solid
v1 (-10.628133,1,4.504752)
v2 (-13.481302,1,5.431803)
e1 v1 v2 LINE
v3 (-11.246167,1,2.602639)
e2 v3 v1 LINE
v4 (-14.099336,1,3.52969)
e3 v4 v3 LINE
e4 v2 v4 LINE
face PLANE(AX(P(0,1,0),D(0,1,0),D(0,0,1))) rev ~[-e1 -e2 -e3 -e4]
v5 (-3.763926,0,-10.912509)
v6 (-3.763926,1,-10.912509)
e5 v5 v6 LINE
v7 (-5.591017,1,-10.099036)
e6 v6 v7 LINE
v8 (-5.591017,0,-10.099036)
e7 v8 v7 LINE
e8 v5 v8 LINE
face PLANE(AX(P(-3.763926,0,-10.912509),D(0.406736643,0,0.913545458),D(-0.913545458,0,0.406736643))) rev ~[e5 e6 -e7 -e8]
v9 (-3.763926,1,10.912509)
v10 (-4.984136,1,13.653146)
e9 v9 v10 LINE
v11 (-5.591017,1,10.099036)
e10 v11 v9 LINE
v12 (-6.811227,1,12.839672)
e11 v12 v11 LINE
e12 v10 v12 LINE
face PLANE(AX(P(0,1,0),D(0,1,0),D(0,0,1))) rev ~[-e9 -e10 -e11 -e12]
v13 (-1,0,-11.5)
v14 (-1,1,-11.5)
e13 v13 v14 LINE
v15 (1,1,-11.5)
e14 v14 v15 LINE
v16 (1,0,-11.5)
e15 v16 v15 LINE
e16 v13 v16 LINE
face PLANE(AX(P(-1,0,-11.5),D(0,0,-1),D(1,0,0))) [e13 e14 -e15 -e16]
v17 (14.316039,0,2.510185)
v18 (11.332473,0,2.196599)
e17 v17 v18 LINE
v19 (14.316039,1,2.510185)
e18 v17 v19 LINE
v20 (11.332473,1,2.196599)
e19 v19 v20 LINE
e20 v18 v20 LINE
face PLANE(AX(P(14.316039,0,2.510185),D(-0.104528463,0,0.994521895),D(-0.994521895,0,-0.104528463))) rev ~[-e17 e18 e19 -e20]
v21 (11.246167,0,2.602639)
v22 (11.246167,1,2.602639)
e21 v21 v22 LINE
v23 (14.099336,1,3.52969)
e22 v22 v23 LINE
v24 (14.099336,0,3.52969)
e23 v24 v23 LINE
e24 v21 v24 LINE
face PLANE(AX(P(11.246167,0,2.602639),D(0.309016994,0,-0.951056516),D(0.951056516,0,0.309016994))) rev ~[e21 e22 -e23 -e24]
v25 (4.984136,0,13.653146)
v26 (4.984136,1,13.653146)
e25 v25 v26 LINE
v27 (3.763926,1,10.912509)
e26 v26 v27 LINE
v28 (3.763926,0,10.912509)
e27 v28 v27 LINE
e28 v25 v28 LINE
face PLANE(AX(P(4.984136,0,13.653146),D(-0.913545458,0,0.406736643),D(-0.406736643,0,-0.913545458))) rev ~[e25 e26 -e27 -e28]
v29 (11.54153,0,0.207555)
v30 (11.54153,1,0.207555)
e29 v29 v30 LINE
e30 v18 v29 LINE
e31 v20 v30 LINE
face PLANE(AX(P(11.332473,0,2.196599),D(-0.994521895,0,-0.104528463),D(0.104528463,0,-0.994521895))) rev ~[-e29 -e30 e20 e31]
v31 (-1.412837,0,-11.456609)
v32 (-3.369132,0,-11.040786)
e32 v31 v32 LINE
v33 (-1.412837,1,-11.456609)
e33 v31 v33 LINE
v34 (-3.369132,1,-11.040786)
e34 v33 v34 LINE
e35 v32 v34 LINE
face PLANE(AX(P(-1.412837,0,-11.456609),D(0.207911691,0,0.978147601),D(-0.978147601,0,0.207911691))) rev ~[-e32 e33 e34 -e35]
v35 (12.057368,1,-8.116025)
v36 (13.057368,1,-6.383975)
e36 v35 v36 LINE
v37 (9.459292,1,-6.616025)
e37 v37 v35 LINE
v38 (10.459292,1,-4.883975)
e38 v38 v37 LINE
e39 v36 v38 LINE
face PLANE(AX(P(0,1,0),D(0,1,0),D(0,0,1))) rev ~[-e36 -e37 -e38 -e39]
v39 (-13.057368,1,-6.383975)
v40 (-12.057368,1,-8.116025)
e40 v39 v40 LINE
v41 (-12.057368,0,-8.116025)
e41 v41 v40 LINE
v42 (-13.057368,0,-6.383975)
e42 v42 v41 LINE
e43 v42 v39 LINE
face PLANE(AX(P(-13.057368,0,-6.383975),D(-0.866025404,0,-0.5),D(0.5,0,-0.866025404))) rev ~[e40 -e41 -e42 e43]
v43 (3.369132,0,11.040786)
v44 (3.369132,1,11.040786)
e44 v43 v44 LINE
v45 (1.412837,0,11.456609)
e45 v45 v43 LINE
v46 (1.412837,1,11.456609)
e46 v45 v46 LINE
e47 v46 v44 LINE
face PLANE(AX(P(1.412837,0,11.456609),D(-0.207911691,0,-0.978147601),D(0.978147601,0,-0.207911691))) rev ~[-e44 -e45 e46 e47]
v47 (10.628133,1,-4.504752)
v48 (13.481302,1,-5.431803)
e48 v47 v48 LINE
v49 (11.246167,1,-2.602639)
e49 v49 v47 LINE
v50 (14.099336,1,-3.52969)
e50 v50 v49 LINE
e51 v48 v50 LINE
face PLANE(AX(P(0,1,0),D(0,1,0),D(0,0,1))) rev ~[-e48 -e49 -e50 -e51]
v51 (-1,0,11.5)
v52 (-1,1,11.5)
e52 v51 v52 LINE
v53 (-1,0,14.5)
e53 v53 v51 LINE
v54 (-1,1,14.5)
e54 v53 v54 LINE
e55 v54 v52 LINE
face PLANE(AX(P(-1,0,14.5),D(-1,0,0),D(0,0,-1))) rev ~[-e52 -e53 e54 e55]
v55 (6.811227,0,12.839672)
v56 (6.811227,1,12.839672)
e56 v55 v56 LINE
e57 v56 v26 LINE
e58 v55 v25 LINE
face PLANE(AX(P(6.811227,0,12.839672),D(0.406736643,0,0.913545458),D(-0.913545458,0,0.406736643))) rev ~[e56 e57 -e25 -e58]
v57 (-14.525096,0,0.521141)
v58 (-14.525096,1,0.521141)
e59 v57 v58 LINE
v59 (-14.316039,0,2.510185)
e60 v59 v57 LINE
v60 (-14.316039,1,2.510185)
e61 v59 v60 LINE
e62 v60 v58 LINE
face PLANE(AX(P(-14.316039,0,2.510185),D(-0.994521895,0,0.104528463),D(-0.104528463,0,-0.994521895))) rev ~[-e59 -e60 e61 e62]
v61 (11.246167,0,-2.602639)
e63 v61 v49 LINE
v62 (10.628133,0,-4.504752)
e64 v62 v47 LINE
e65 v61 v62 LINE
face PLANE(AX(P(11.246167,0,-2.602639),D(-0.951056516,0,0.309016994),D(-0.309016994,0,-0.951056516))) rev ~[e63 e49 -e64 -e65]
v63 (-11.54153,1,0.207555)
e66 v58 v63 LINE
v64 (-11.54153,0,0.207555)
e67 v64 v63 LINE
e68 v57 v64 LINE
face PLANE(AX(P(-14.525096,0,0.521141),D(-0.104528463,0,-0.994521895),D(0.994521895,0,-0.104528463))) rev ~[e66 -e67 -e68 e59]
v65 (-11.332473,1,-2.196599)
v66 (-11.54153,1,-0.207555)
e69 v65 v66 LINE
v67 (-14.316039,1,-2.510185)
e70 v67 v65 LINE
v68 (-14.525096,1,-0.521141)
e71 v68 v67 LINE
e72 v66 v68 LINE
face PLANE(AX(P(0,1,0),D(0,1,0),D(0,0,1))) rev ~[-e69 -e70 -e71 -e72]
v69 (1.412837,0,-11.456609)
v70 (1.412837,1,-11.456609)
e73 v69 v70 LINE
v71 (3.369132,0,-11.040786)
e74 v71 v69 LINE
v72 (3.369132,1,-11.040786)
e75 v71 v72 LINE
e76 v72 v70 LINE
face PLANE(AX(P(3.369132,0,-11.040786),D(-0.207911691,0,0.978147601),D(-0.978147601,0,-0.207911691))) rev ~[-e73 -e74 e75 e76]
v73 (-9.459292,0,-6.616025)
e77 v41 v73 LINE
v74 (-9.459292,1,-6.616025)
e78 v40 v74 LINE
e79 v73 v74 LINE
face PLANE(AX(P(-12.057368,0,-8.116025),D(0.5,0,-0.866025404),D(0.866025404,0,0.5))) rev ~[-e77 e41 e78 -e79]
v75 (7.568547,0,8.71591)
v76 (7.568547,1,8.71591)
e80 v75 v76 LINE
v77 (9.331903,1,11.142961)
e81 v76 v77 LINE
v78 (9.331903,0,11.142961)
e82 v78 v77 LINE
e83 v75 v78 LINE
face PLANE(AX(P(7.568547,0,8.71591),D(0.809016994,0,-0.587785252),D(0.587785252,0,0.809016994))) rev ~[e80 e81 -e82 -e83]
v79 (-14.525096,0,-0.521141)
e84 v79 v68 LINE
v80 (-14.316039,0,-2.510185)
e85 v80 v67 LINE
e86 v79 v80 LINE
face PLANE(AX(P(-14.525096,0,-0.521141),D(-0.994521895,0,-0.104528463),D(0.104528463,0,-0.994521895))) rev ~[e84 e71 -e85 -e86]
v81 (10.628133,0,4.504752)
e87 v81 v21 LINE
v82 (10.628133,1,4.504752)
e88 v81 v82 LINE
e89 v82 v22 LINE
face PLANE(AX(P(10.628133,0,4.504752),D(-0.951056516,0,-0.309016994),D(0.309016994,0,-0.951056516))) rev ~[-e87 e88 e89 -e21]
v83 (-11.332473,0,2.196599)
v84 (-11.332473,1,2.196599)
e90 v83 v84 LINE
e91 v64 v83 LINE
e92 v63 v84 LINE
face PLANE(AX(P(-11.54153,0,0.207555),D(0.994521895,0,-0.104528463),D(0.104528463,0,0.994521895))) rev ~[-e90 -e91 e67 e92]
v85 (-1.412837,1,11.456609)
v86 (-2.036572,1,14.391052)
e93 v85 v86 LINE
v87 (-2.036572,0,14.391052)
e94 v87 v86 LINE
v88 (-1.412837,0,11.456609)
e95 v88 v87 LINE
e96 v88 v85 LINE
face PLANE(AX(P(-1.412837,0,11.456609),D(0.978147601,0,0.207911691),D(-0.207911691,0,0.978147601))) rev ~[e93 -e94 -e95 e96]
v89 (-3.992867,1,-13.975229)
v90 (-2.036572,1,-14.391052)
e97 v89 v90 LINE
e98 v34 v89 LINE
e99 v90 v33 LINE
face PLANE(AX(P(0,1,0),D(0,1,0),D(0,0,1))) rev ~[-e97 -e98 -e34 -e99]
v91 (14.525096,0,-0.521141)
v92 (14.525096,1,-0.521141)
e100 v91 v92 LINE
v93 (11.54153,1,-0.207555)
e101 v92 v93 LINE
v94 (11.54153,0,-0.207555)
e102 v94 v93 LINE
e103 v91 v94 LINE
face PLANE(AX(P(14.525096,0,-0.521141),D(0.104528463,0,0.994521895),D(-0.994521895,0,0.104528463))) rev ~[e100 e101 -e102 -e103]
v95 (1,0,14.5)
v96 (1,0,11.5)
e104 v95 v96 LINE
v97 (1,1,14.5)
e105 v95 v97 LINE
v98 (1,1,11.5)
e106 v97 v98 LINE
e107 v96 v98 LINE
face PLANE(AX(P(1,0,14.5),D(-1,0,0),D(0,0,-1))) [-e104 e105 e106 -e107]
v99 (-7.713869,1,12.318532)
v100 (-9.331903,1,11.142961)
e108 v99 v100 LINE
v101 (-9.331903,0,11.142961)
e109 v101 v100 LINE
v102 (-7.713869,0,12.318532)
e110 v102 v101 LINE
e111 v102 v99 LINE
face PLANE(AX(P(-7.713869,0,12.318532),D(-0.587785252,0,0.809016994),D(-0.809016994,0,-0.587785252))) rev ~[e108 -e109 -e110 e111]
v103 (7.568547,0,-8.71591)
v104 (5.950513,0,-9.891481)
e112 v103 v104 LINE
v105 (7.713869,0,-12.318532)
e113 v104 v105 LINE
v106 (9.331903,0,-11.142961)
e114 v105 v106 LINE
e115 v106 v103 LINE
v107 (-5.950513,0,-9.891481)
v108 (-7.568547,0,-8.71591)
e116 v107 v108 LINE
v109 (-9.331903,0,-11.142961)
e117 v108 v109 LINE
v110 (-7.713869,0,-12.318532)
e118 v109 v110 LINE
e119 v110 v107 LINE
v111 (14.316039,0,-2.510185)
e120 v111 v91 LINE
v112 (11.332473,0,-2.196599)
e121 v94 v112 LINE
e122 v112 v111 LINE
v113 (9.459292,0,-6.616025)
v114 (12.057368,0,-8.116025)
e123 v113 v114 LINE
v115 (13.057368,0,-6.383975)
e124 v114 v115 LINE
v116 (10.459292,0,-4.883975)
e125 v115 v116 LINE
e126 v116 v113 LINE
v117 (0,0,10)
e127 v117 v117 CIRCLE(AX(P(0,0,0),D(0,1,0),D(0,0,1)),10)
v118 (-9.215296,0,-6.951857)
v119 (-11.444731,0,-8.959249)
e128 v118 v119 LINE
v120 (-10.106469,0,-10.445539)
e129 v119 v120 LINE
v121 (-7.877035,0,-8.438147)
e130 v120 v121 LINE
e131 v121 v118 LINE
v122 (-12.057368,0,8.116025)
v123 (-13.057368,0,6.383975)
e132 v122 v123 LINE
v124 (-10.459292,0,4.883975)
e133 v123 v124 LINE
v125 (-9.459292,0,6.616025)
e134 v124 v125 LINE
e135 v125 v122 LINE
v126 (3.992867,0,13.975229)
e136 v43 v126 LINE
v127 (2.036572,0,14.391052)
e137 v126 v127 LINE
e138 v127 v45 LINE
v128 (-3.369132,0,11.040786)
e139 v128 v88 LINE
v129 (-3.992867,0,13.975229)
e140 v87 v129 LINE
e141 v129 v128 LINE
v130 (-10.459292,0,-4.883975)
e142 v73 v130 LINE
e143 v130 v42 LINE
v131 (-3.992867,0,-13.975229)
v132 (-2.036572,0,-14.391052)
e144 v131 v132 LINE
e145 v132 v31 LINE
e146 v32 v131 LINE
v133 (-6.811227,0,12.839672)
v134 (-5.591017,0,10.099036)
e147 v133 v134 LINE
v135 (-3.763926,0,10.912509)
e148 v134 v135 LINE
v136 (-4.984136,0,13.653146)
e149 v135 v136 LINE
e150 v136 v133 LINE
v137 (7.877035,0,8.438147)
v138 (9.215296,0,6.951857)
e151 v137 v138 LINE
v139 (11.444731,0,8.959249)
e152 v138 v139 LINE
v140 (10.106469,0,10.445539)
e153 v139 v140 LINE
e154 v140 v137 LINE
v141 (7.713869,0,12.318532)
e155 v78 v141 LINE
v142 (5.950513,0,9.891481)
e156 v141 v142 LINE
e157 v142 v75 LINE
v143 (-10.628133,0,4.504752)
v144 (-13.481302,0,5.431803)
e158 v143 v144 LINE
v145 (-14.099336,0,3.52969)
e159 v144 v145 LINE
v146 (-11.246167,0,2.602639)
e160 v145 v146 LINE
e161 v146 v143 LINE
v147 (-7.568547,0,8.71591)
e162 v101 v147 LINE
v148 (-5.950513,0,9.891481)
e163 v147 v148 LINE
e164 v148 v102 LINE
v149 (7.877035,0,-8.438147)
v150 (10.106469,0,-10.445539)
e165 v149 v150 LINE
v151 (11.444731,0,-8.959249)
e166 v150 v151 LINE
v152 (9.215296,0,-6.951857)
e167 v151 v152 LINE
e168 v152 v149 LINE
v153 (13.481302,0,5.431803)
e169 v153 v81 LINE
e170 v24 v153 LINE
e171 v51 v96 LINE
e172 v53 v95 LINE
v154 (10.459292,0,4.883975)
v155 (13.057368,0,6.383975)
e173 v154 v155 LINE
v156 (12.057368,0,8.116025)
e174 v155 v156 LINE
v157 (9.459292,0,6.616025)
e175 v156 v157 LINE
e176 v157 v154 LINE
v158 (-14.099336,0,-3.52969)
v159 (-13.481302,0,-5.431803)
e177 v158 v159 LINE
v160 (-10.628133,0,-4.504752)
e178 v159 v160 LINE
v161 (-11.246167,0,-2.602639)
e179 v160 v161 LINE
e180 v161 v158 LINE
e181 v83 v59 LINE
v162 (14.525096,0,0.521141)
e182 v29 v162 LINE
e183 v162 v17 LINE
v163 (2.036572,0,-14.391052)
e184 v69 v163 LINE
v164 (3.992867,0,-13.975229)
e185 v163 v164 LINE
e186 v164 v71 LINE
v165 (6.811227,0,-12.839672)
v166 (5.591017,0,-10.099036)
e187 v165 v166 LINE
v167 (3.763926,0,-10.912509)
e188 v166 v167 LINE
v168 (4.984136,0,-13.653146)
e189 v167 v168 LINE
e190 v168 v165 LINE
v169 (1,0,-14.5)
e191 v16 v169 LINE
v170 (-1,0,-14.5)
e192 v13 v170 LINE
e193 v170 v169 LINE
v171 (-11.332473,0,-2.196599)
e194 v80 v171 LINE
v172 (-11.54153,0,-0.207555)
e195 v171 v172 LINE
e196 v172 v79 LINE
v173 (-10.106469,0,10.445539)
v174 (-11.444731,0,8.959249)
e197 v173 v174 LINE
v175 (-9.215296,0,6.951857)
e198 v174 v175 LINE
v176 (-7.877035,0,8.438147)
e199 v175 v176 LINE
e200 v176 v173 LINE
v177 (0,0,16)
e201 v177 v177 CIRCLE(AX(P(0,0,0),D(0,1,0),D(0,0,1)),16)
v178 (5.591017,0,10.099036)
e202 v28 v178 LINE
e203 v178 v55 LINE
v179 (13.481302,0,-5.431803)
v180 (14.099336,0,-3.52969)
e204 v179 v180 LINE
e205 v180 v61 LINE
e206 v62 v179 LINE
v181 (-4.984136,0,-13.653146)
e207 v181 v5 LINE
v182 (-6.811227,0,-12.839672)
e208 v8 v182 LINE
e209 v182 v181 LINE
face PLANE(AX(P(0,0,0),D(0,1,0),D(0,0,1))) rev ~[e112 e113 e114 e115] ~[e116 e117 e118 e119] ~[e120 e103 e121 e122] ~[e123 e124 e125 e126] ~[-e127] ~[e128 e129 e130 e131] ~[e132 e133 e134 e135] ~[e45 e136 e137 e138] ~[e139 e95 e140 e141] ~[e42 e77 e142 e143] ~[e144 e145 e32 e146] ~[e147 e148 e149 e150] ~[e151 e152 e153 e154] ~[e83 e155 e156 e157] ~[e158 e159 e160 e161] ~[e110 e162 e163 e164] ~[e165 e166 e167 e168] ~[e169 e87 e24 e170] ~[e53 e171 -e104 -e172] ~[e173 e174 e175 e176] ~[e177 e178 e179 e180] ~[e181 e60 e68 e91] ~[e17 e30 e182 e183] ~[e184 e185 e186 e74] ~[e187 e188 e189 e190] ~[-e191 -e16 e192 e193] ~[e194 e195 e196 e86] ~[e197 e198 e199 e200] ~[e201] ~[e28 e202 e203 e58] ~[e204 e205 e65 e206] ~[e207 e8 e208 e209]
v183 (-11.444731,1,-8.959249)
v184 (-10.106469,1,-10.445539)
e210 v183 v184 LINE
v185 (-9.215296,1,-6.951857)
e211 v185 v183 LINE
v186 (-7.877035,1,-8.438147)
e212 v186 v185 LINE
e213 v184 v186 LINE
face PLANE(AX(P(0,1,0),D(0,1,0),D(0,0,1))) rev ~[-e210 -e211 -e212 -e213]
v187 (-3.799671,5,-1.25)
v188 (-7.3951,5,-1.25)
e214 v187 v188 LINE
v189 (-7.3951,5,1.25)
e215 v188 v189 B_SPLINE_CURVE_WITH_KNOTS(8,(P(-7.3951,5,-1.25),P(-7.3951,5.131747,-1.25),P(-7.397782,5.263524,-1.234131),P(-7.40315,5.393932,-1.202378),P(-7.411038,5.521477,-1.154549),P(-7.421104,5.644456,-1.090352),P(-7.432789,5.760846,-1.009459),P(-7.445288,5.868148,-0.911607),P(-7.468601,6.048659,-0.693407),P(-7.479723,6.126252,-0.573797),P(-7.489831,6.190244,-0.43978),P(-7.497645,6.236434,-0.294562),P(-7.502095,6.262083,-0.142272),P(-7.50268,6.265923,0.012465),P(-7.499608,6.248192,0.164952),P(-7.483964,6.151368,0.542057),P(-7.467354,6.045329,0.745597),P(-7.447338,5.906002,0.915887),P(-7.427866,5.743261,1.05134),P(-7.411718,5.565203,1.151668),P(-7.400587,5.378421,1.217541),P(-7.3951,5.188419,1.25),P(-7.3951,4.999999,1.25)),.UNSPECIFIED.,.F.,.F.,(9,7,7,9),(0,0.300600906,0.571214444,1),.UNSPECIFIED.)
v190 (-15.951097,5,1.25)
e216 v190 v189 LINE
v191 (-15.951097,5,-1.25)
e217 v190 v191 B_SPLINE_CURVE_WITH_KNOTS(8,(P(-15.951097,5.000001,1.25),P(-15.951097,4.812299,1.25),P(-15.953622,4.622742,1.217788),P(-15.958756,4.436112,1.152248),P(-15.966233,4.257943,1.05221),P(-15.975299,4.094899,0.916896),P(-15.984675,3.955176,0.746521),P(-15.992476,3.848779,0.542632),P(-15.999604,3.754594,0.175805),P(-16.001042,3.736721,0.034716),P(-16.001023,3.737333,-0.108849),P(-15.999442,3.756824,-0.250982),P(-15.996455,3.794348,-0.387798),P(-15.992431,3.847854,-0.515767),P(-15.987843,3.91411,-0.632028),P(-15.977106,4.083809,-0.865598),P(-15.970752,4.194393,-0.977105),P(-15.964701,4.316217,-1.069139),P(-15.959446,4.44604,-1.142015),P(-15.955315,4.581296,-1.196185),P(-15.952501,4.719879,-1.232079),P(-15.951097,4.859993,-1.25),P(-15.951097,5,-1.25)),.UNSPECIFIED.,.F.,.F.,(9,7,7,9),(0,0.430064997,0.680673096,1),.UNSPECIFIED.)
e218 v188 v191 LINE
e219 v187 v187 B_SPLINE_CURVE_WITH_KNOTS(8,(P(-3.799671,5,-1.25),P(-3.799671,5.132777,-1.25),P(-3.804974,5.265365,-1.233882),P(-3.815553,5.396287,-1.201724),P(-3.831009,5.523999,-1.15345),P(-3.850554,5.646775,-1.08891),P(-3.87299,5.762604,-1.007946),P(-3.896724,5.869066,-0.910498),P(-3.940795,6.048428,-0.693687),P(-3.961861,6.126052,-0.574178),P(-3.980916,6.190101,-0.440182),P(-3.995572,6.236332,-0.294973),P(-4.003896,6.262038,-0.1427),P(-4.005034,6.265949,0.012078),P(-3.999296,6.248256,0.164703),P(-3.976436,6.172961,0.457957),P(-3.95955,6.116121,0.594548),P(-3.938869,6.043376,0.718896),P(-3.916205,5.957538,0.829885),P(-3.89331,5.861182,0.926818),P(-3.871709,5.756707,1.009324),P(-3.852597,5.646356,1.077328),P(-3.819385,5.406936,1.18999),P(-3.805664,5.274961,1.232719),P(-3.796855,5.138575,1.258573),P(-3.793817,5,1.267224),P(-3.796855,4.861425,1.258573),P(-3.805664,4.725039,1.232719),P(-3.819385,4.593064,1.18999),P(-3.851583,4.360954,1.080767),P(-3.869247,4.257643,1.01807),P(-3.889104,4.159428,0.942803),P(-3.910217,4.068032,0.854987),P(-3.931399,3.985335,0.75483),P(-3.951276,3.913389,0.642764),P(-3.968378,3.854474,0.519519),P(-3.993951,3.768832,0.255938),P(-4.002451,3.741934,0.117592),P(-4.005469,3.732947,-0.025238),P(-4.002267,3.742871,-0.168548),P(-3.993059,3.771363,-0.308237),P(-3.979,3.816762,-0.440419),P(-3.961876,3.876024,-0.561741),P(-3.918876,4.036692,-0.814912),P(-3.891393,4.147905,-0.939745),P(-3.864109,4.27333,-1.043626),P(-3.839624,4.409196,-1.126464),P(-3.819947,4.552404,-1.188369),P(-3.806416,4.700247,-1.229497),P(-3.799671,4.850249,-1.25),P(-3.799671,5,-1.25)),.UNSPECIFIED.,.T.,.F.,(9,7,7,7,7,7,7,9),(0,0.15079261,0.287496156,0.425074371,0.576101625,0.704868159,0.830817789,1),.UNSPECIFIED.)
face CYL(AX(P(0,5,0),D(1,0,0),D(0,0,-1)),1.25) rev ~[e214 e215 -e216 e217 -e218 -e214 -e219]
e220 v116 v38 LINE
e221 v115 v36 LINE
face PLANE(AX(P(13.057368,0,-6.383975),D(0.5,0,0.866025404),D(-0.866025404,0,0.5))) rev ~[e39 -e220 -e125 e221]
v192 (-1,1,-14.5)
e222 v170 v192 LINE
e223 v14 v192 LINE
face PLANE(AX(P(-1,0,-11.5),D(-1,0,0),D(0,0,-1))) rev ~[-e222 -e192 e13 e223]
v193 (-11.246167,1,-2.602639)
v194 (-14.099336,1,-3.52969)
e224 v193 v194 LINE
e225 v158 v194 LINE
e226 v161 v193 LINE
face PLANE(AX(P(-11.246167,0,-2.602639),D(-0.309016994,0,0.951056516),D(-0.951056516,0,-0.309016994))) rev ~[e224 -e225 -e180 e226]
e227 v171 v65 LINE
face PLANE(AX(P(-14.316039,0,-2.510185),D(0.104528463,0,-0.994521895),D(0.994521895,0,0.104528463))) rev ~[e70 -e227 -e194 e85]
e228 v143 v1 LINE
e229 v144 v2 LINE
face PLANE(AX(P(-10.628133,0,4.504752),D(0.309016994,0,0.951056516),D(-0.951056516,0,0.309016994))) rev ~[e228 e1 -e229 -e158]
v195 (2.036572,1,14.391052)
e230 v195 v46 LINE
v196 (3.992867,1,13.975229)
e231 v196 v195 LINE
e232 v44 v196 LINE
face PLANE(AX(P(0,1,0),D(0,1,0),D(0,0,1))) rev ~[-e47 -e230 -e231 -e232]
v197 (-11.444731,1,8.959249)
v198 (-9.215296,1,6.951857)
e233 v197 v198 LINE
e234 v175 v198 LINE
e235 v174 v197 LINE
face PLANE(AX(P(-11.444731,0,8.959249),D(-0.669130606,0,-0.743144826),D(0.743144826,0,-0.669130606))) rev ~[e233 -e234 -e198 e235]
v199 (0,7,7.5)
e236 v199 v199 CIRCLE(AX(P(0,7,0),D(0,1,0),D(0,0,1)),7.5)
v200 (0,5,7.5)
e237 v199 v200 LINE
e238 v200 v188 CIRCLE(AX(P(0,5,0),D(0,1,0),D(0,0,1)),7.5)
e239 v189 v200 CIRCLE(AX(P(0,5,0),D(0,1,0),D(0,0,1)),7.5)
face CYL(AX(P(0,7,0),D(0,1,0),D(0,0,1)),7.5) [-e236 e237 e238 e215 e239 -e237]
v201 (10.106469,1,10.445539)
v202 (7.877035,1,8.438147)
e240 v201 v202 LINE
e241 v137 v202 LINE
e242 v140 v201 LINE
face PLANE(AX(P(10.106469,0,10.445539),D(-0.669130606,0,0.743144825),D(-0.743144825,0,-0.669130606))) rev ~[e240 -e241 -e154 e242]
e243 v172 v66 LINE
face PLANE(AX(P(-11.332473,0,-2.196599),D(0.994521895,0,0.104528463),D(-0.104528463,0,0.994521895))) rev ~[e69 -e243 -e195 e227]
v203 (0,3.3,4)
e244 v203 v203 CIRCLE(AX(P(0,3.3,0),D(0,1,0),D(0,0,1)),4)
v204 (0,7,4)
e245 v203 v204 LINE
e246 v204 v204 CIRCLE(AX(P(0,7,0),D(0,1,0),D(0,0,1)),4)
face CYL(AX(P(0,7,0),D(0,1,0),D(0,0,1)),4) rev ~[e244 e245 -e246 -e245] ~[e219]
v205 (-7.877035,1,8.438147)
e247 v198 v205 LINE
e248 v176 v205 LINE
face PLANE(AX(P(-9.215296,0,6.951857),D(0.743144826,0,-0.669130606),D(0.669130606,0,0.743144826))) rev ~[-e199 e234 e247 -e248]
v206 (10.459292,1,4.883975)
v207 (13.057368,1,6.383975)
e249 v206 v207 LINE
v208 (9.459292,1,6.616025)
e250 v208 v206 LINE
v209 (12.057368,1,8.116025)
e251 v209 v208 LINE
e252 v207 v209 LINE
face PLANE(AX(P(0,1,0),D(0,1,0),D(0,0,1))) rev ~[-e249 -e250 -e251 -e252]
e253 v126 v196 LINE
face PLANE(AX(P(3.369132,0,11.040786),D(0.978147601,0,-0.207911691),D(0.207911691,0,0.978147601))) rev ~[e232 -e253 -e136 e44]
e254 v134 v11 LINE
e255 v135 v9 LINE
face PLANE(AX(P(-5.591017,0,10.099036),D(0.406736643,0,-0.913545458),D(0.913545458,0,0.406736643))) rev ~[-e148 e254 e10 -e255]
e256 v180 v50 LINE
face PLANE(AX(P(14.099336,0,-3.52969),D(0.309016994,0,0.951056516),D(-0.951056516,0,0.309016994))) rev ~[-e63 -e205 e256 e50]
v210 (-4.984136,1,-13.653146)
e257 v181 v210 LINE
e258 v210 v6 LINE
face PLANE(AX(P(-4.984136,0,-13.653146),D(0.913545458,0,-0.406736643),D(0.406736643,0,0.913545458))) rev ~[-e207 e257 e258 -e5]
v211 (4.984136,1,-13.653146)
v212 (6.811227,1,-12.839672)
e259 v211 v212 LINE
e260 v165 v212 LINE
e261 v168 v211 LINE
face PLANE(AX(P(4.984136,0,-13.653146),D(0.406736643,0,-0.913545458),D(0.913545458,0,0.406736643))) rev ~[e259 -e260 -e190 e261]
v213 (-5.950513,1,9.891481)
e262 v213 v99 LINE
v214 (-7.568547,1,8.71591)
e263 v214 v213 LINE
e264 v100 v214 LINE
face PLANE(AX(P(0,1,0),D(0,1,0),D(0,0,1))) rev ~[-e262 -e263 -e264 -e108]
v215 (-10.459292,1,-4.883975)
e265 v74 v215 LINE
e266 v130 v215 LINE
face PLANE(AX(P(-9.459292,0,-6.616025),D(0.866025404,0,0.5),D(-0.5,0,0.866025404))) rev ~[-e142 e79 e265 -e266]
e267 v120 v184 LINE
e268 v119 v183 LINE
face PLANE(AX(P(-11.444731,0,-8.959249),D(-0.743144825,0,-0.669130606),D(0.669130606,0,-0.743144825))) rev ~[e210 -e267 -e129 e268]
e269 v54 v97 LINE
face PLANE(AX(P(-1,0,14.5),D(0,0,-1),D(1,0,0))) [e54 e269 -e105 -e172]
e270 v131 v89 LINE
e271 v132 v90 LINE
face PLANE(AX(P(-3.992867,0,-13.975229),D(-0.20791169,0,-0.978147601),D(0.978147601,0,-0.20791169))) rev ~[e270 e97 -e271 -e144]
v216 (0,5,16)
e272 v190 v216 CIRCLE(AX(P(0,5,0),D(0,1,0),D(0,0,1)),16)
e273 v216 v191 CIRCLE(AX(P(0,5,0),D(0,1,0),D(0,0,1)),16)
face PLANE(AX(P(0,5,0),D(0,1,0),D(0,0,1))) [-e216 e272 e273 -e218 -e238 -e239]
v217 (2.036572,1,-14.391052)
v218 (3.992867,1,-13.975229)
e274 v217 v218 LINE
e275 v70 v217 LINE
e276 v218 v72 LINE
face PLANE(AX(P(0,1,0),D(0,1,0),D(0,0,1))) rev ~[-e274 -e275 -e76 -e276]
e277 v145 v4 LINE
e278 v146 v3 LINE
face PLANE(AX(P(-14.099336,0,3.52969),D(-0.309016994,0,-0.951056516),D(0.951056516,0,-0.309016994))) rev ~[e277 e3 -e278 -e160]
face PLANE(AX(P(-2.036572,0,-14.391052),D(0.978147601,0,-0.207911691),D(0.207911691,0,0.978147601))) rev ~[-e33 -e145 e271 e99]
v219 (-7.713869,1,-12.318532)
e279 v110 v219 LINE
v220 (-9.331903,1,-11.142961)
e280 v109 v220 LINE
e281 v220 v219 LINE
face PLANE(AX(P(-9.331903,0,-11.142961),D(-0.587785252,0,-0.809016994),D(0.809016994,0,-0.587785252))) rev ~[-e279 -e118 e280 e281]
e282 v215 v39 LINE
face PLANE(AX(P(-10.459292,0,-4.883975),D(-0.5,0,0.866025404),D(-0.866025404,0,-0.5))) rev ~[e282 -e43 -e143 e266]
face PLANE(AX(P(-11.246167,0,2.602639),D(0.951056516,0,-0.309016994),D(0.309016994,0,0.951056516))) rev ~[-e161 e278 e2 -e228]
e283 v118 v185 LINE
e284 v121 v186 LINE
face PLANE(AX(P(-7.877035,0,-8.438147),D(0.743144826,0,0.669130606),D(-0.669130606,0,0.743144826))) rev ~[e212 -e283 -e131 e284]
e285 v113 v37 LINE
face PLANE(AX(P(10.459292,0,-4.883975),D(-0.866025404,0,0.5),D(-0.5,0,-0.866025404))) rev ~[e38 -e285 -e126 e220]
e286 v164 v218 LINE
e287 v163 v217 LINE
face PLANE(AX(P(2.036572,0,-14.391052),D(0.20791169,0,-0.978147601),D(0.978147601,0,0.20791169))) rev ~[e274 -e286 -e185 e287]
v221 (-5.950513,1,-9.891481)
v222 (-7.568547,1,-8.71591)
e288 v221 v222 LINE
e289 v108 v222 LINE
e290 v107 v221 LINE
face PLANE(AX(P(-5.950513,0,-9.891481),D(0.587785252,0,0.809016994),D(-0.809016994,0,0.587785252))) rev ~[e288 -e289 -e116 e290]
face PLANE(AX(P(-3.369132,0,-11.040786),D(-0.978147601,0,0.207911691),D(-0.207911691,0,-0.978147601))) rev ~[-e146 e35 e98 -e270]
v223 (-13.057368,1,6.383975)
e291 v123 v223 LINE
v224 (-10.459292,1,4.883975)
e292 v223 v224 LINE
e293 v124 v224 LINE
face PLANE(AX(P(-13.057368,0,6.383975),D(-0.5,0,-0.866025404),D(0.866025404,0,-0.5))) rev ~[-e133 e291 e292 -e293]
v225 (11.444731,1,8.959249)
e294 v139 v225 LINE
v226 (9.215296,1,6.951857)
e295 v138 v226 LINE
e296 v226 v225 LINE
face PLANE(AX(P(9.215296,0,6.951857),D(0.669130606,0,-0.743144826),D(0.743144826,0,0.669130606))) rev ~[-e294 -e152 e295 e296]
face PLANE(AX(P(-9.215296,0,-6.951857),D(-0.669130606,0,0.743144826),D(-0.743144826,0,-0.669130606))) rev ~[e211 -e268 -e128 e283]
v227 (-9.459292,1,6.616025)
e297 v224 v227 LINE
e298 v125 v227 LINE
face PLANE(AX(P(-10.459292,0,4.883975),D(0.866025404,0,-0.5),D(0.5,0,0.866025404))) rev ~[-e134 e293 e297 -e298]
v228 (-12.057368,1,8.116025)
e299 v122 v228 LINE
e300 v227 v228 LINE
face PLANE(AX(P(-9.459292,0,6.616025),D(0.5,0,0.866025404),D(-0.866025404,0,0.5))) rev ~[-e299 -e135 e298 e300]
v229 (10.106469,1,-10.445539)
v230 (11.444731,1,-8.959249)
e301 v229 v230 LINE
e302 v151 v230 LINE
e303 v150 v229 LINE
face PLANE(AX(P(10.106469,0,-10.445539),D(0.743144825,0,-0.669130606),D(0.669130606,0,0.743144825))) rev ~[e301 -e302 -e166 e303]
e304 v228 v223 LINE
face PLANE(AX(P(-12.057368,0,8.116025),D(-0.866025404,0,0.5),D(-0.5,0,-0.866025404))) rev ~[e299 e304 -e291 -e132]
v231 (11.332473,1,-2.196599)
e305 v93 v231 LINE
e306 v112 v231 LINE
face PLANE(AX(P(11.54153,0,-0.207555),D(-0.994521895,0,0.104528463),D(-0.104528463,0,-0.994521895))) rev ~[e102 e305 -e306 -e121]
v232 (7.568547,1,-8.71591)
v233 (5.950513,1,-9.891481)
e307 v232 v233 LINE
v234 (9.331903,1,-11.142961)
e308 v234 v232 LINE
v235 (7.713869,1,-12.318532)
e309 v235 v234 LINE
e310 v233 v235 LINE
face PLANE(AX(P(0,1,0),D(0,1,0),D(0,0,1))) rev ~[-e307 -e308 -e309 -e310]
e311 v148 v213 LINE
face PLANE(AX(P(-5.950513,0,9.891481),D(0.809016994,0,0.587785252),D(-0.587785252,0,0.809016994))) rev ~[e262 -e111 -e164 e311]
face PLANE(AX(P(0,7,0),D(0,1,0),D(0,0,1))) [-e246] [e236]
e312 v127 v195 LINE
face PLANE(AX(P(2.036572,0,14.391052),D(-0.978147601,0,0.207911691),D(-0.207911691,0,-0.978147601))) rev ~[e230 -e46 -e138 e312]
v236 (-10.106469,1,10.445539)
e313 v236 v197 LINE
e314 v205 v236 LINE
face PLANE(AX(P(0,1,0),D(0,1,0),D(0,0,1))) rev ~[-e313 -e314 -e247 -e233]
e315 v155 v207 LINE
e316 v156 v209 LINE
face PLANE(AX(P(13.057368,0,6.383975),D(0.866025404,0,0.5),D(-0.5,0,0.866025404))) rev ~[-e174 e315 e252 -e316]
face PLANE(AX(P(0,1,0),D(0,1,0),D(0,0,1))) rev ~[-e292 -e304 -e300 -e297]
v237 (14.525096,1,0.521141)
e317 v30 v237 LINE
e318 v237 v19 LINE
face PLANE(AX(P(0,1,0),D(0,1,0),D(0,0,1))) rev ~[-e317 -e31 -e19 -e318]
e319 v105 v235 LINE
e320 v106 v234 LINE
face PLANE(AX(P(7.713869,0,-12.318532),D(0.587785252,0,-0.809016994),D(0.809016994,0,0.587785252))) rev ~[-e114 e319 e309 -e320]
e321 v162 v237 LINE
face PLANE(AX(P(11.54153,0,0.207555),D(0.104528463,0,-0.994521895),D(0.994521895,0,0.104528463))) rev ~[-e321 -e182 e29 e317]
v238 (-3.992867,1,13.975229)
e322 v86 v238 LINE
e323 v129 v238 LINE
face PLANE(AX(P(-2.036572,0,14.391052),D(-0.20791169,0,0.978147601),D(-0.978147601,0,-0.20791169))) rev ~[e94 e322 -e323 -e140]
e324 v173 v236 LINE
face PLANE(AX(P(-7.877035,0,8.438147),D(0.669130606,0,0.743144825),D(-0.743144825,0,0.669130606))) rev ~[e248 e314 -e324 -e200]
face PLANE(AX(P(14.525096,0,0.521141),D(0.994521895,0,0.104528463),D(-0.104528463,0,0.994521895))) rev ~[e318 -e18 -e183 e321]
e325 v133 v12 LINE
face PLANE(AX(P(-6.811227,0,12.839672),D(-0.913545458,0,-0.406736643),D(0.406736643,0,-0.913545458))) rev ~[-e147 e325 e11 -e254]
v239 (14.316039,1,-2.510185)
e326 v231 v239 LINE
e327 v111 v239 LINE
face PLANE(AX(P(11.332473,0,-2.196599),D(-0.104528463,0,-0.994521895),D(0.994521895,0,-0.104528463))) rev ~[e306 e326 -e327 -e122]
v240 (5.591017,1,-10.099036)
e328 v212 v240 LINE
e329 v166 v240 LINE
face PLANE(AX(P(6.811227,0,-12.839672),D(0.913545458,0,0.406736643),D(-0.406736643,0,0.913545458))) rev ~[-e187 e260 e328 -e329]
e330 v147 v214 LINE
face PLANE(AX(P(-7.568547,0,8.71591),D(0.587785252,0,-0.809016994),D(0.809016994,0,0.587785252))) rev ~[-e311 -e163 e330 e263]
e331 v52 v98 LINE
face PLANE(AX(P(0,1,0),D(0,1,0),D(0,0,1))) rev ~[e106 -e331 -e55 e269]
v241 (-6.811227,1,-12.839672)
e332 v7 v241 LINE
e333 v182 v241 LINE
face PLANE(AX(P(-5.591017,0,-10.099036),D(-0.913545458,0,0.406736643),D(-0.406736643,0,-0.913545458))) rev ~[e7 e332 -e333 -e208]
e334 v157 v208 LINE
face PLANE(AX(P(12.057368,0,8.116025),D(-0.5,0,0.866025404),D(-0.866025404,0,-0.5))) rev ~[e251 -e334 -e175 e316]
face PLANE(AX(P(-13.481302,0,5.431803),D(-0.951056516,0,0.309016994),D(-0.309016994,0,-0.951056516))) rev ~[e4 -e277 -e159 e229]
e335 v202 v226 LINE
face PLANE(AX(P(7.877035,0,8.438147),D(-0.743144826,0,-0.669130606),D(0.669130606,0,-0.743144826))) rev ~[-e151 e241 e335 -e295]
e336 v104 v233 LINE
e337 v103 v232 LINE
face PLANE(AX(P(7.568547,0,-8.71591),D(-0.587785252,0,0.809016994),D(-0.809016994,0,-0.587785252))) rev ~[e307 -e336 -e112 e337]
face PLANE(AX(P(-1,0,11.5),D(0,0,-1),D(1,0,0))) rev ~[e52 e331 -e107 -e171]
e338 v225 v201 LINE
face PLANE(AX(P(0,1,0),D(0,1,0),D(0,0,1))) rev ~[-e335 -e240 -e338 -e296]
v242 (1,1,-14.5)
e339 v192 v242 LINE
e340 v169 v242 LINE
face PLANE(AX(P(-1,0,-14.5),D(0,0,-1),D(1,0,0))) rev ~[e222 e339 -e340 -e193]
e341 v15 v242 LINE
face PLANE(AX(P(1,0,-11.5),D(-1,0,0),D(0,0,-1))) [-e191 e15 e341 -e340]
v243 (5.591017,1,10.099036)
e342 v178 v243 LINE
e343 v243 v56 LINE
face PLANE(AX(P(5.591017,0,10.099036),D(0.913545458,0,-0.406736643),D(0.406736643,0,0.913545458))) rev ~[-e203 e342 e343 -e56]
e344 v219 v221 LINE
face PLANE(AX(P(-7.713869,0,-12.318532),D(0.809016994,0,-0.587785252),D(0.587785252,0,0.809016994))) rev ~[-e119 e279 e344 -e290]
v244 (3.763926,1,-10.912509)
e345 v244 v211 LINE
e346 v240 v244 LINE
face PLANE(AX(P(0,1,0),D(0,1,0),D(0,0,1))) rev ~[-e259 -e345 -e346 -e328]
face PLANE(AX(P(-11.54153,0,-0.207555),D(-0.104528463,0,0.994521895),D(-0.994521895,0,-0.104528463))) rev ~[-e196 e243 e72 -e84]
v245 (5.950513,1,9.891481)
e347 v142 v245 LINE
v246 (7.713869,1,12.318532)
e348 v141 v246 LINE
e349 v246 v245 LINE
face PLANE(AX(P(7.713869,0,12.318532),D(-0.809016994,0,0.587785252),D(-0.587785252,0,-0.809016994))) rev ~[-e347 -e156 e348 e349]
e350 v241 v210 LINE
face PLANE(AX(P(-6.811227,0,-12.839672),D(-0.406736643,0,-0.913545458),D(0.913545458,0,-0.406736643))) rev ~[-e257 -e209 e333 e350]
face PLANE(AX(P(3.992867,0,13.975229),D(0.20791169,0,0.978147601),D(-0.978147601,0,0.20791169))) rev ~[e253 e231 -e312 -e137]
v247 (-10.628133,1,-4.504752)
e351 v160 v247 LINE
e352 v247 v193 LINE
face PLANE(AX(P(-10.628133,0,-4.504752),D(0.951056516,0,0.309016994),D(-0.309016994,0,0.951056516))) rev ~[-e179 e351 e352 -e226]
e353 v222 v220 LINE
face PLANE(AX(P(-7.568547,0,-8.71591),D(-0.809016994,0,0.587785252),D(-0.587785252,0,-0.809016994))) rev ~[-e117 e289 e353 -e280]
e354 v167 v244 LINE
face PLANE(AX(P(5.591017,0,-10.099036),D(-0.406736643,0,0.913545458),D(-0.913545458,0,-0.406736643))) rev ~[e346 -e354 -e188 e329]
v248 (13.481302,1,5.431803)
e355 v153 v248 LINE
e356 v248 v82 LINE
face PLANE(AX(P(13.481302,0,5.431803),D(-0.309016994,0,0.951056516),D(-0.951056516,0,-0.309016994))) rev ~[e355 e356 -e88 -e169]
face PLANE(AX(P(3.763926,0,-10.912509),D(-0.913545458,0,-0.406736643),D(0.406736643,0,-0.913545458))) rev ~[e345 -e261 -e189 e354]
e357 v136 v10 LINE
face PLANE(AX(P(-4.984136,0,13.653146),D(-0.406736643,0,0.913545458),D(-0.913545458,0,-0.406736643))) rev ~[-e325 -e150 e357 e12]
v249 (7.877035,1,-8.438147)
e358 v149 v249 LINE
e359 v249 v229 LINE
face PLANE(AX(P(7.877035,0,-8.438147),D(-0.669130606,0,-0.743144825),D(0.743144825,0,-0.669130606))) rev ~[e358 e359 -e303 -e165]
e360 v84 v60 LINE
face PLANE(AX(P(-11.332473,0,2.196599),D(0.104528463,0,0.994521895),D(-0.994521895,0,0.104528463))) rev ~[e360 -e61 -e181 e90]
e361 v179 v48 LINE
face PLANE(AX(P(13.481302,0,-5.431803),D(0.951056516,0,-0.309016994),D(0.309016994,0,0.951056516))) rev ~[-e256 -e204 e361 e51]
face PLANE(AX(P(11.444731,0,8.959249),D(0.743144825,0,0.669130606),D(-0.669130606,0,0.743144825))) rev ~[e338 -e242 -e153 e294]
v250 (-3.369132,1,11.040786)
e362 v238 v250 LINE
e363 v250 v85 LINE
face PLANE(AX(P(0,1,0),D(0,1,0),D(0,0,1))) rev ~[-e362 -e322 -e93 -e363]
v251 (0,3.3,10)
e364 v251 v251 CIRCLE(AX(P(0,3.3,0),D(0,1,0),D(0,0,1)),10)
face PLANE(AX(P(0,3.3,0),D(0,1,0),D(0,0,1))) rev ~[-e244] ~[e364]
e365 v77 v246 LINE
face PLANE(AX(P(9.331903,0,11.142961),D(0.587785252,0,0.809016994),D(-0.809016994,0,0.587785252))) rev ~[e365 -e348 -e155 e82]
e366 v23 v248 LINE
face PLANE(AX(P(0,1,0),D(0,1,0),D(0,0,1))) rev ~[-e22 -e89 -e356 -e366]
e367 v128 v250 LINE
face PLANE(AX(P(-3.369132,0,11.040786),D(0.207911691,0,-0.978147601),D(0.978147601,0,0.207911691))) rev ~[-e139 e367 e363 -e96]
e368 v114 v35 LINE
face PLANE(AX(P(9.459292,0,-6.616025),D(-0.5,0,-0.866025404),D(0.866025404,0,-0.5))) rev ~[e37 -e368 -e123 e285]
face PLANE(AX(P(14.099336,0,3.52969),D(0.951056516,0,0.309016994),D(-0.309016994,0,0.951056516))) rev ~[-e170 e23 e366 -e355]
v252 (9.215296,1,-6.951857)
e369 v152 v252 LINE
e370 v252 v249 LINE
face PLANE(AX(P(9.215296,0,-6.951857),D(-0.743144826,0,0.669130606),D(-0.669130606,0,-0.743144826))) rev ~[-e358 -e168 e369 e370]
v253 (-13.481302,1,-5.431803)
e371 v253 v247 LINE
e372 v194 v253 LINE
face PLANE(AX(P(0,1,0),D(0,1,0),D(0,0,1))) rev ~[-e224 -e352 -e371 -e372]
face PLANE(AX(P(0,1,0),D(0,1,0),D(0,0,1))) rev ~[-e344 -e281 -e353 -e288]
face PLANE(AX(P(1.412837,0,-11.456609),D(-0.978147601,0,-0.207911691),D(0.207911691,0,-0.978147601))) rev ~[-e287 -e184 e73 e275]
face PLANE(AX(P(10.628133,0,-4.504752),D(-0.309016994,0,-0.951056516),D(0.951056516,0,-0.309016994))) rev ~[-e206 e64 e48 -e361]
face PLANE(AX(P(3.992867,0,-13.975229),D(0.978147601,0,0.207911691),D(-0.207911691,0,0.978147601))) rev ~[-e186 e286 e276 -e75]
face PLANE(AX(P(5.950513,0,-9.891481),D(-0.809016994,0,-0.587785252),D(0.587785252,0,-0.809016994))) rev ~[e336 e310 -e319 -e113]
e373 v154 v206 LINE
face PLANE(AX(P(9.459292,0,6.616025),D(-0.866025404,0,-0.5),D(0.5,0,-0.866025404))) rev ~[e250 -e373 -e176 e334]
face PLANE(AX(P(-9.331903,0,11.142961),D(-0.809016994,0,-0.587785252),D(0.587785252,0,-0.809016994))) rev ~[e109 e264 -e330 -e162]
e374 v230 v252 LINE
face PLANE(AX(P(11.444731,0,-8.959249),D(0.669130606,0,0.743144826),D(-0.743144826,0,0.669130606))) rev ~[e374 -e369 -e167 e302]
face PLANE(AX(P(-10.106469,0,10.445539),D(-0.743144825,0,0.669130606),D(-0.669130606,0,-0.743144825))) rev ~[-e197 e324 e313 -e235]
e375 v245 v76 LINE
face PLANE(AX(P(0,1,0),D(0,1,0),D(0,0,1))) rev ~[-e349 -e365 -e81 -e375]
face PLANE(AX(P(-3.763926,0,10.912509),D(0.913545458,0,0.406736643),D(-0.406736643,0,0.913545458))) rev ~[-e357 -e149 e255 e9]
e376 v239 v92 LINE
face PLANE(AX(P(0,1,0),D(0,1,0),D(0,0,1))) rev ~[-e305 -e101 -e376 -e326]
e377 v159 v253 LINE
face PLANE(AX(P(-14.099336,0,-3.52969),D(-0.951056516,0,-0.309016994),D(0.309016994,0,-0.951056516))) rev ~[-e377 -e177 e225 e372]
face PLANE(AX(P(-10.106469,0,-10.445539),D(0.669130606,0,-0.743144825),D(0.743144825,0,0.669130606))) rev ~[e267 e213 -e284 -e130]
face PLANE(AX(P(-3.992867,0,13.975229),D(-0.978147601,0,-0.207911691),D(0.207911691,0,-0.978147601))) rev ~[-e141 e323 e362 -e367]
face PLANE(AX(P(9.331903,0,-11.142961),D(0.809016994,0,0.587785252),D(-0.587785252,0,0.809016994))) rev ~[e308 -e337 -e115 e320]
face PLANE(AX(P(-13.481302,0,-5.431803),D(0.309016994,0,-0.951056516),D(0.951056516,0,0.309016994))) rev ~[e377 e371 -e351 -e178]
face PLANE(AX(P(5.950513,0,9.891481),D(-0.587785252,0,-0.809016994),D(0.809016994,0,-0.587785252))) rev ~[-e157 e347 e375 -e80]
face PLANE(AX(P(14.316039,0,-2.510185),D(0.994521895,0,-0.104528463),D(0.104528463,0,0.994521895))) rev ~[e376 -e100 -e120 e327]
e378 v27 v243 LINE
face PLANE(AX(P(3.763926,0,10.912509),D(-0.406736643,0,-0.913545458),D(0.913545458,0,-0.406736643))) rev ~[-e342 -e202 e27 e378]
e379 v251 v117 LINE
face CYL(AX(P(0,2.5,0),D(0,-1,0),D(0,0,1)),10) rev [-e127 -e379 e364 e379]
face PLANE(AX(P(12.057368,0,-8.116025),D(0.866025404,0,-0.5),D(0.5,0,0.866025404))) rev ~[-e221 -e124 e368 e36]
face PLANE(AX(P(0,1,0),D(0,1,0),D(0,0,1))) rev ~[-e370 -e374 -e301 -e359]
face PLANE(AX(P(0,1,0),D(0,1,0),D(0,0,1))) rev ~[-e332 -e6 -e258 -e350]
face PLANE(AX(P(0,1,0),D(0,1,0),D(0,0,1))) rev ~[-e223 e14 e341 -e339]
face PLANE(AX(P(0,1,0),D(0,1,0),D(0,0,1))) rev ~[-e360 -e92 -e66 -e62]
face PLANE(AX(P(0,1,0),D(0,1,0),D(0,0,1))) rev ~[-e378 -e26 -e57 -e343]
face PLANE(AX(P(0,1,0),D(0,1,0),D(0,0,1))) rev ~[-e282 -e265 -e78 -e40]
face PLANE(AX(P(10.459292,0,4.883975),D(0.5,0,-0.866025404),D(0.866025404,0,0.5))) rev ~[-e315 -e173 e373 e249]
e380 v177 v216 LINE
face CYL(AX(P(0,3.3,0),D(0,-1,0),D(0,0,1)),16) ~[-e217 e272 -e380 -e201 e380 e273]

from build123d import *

# Parameters (mm, degrees)
SKETCH1_R           = 16
SKETCH1_W           = 2
SKETCH1_H           = 3
SKETCH1_R_2         = 10
BOSS_EXTRUDE3_DEPTH = 1
SKETCH2_R           = 16
SKETCH2_R_2         = 10
BOSS_EXTRUDE4_DEPTH = 1.5
SKETCH3_R           = 16
SKETCH3_R_2         = 10
BOSS_EXTRUDE5_DEPTH = 0.8
SKETCH4_R           = 16
BOSS_EXTRUDE6_DEPTH = 1.7
SKETCH5_R           = 4
CUT_EXTRUDE3_DEPTH  = 1.7
BOSS_EXTRUDE8_START = 2
SKETCH6_R           = 7.5
SKETCH6_R_2         = 4
BOSS_EXTRUDE8_DEPTH = 2
SKETCH8_R           = 1.25
CUT_EXTRUDE5_DEPTH  = 29


with BuildPart() as part:
    # Sketch1 → Boss-Extrude3 (new body)
    with BuildSketch(Plane(origin=(0, 0, 0), x_dir=(1, 0, 0), z_dir=(0, 1, 0))):
        with Locations(Location((0, 0, 0), (0, 0, 270))):
            Circle(SKETCH1_R)
        Polygon((3.992867118, 13.97522852), (3.369132045, 11.040785718), (1.412836844, 11.456609099), (2.036571916, 14.391051901), align=None, mode=Mode.SUBTRACT)
        with Locations((0, 13)):
            Rectangle(SKETCH1_W, SKETCH1_H, mode=Mode.SUBTRACT)
        Polygon((6.811226782, 12.839672493), (5.591016853, 10.09903612), (3.763925938, 10.912509406), (4.984135867, 13.653145779), align=None, mode=Mode.SUBTRACT)
        Polygon((-2.036571916, 14.391051901), (-1.412836844, 11.456609099), (-3.369132045, 11.040785718), (-3.992867118, 13.97522852), align=None, mode=Mode.SUBTRACT)
        Polygon((9.331903153, 11.142961166), (7.568547396, 8.715910183), (5.950513407, 9.891480688), (7.713869164, 12.318531671), align=None, mode=Mode.SUBTRACT)
        Polygon((-4.984135867, 13.653145779), (-3.763925938, 10.912509406), (-5.591016853, 10.09903612), (-6.811226782, 12.839672493), align=None, mode=Mode.SUBTRACT)
        Polygon((-9.331903153, -11.142961166), (-7.568547396, -8.715910183), (-5.950513407, -9.891480688), (-7.713869164, -12.318531671), align=None, mode=Mode.SUBTRACT)
        Polygon((-11.444730576, -8.959248967), (-9.215296099, -6.951857148), (-7.877034887, -8.438146799), (-10.106469363, -10.445538618), align=None, mode=Mode.SUBTRACT)
        Polygon((-6.811226782, -12.839672493), (-5.591016853, -10.09903612), (-3.763925938, -10.912509406), (-4.984135867, -13.653145779), align=None, mode=Mode.SUBTRACT)
        with Locations((0, -13)):
            Rectangle(SKETCH1_W, SKETCH1_H, mode=Mode.SUBTRACT)
        Polygon((-1.412836844, -11.456609099), (-2.036571916, -14.391051901), (-3.992867118, -13.97522852), (-3.369132045, -11.040785718), align=None, mode=Mode.SUBTRACT)
        Polygon((-13.057368355, -6.383974596), (-10.459292144, -4.883974596), (-9.459292144, -6.616025404), (-12.057368355, -8.116025404), align=None, mode=Mode.SUBTRACT)
        Polygon((-14.099336481, -3.529689902), (-11.246166932, -2.602638919), (-10.628132943, -4.504751952), (-13.481302492, -5.431802935), align=None, mode=Mode.SUBTRACT)
        Polygon((-14.525095946, -0.521140822), (-11.54153026, -0.207555432), (-11.332473333, -2.196599223), (-14.31603902, -2.510184613), align=None, mode=Mode.SUBTRACT)
        Polygon((2.036571916, -14.391051901), (1.412836844, -11.456609099), (3.369132045, -11.040785718), (3.992867118, -13.97522852), align=None, mode=Mode.SUBTRACT)
        Polygon((4.984135867, -13.653145779), (3.763925938, -10.912509406), (5.591016853, -10.09903612), (6.811226782, -12.839672493), align=None, mode=Mode.SUBTRACT)
        Polygon((7.713869164, -12.318531671), (5.950513407, -9.891480688), (7.568547396, -8.715910183), (9.331903153, -11.142961166), align=None, mode=Mode.SUBTRACT)
        Polygon((10.106469363, -10.445538618), (7.877034887, -8.438146799), (9.215296099, -6.951857148), (11.444730576, -8.959248967), align=None, mode=Mode.SUBTRACT)
        Polygon((12.057368355, -8.116025404), (9.459292144, -6.616025404), (10.459292144, -4.883974596), (13.057368355, -6.383974596), align=None, mode=Mode.SUBTRACT)
        Polygon((13.481302492, -5.431802935), (10.628132943, -4.504751952), (11.246166932, -2.602638919), (14.099336481, -3.529689902), align=None, mode=Mode.SUBTRACT)
        Polygon((14.31603902, -2.510184613), (11.332473333, -2.196599223), (11.54153026, -0.207555432), (14.525095946, -0.521140822), align=None, mode=Mode.SUBTRACT)
        Polygon((-14.31603902, 2.510184613), (-11.332473333, 2.196599223), (-11.54153026, 0.207555432), (-14.525095946, 0.521140822), align=None, mode=Mode.SUBTRACT)
        Polygon((-13.481302492, 5.431802935), (-10.628132943, 4.504751952), (-11.246166932, 2.602638919), (-14.099336481, 3.529689902), align=None, mode=Mode.SUBTRACT)
        with Locations(Location((0, 0, 0), (0, 0, 270))):
            Circle(SKETCH1_R_2, mode=Mode.SUBTRACT)
        Polygon((-12.057368355, 8.116025404), (-9.459292144, 6.616025404), (-10.459292144, 4.883974596), (-13.057368355, 6.383974596), align=None, mode=Mode.SUBTRACT)
        Polygon((-10.106469363, 10.445538618), (-7.877034887, 8.438146799), (-9.215296099, 6.951857148), (-11.444730576, 8.959248967), align=None, mode=Mode.SUBTRACT)
        Polygon((-7.713869164, 12.318531671), (-5.950513407, 9.891480688), (-7.568547396, 8.715910183), (-9.331903153, 11.142961166), align=None, mode=Mode.SUBTRACT)
        Polygon((14.525095946, 0.521140822), (11.54153026, 0.207555432), (11.332473333, 2.196599223), (14.31603902, 2.510184613), align=None, mode=Mode.SUBTRACT)
        Polygon((14.099336481, 3.529689902), (11.246166932, 2.602638919), (10.628132943, 4.504751952), (13.481302492, 5.431802935), align=None, mode=Mode.SUBTRACT)
        Polygon((7.877034887, 8.438146799), (10.106469363, 10.445538618), (11.444730576, 8.959248967), (9.215296099, 6.951857148), align=None, mode=Mode.SUBTRACT)
        Polygon((13.057368355, 6.383974596), (10.459292144, 4.883974596), (9.459292144, 6.616025404), (12.057368355, 8.116025404), align=None, mode=Mode.SUBTRACT)
    extrude(amount=BOSS_EXTRUDE3_DEPTH)

    # Sketch2 → Boss-Extrude4 (add)
    with BuildSketch(Plane(origin=(0, 1, 0), x_dir=(1, 0, 0), z_dir=(0, 1, 0))):
        with Locations(Location((0, 0, 0), (0, 0, 270))):
            Circle(SKETCH2_R)
        with Locations(Location((0, 0, 0), (0, 0, 270))):
            Circle(SKETCH2_R_2, mode=Mode.SUBTRACT)
    extrude(amount=BOSS_EXTRUDE4_DEPTH)

    # Sketch3 → Boss-Extrude5 (add)
    with BuildSketch(Plane(origin=(0, 2.5, 0), x_dir=(1, 0, 0), z_dir=(0, 1, 0))):
        with Locations(Location((0, 0, 0), (0, 0, 270))):
            Circle(SKETCH3_R)
        with Locations(Location((0, 0, 0), (0, 0, 270))):
            Circle(SKETCH3_R_2, mode=Mode.SUBTRACT)
    extrude(amount=BOSS_EXTRUDE5_DEPTH)

    # Sketch4 → Boss-Extrude6 (add)
    with BuildSketch(Plane(origin=(0, 3.3, 0), x_dir=(1, 0, 0), z_dir=(0, 1, 0))):
        with Locations(Location((0, 0, 0), (0, 0, 270))):
            Circle(SKETCH4_R)
    extrude(amount=BOSS_EXTRUDE6_DEPTH)

    # Sketch5 → Cut-Extrude3 (cut)
    with BuildSketch(Plane(origin=(0, 5, 0), x_dir=(1, 0, 0), z_dir=(0, 1, 0))):
        with Locations(Location((0, 0, 0), (0, 0, 270))):
            Circle(SKETCH5_R)
    extrude(amount=-CUT_EXTRUDE3_DEPTH, mode=Mode.SUBTRACT)

    # Sketch6 → Boss-Extrude8 (add)
    with BuildSketch(Plane(origin=(0, 5, 0), x_dir=(1, 0, 0), z_dir=(0, 1, 0)).offset(BOSS_EXTRUDE8_START)):
        with Locations(Location((0, 0, 0), (0, 0, 270))):
            Circle(SKETCH6_R)
        with Locations(Location((0, 0, 0), (0, 0, 270))):
            Circle(SKETCH6_R_2, mode=Mode.SUBTRACT)
    extrude(amount=-BOSS_EXTRUDE8_DEPTH)

    # Sketch8 → Cut-Extrude5 (cut)
    with BuildSketch(Plane(origin=(0, 0, 0), x_dir=(0, 0, -1), z_dir=(1, 0, 0))):
        with Locations((0, 5)):
            Circle(SKETCH8_R)
    extrude(amount=-CUT_EXTRUDE5_DEPTH, mode=Mode.SUBTRACT)


solid = part.part
